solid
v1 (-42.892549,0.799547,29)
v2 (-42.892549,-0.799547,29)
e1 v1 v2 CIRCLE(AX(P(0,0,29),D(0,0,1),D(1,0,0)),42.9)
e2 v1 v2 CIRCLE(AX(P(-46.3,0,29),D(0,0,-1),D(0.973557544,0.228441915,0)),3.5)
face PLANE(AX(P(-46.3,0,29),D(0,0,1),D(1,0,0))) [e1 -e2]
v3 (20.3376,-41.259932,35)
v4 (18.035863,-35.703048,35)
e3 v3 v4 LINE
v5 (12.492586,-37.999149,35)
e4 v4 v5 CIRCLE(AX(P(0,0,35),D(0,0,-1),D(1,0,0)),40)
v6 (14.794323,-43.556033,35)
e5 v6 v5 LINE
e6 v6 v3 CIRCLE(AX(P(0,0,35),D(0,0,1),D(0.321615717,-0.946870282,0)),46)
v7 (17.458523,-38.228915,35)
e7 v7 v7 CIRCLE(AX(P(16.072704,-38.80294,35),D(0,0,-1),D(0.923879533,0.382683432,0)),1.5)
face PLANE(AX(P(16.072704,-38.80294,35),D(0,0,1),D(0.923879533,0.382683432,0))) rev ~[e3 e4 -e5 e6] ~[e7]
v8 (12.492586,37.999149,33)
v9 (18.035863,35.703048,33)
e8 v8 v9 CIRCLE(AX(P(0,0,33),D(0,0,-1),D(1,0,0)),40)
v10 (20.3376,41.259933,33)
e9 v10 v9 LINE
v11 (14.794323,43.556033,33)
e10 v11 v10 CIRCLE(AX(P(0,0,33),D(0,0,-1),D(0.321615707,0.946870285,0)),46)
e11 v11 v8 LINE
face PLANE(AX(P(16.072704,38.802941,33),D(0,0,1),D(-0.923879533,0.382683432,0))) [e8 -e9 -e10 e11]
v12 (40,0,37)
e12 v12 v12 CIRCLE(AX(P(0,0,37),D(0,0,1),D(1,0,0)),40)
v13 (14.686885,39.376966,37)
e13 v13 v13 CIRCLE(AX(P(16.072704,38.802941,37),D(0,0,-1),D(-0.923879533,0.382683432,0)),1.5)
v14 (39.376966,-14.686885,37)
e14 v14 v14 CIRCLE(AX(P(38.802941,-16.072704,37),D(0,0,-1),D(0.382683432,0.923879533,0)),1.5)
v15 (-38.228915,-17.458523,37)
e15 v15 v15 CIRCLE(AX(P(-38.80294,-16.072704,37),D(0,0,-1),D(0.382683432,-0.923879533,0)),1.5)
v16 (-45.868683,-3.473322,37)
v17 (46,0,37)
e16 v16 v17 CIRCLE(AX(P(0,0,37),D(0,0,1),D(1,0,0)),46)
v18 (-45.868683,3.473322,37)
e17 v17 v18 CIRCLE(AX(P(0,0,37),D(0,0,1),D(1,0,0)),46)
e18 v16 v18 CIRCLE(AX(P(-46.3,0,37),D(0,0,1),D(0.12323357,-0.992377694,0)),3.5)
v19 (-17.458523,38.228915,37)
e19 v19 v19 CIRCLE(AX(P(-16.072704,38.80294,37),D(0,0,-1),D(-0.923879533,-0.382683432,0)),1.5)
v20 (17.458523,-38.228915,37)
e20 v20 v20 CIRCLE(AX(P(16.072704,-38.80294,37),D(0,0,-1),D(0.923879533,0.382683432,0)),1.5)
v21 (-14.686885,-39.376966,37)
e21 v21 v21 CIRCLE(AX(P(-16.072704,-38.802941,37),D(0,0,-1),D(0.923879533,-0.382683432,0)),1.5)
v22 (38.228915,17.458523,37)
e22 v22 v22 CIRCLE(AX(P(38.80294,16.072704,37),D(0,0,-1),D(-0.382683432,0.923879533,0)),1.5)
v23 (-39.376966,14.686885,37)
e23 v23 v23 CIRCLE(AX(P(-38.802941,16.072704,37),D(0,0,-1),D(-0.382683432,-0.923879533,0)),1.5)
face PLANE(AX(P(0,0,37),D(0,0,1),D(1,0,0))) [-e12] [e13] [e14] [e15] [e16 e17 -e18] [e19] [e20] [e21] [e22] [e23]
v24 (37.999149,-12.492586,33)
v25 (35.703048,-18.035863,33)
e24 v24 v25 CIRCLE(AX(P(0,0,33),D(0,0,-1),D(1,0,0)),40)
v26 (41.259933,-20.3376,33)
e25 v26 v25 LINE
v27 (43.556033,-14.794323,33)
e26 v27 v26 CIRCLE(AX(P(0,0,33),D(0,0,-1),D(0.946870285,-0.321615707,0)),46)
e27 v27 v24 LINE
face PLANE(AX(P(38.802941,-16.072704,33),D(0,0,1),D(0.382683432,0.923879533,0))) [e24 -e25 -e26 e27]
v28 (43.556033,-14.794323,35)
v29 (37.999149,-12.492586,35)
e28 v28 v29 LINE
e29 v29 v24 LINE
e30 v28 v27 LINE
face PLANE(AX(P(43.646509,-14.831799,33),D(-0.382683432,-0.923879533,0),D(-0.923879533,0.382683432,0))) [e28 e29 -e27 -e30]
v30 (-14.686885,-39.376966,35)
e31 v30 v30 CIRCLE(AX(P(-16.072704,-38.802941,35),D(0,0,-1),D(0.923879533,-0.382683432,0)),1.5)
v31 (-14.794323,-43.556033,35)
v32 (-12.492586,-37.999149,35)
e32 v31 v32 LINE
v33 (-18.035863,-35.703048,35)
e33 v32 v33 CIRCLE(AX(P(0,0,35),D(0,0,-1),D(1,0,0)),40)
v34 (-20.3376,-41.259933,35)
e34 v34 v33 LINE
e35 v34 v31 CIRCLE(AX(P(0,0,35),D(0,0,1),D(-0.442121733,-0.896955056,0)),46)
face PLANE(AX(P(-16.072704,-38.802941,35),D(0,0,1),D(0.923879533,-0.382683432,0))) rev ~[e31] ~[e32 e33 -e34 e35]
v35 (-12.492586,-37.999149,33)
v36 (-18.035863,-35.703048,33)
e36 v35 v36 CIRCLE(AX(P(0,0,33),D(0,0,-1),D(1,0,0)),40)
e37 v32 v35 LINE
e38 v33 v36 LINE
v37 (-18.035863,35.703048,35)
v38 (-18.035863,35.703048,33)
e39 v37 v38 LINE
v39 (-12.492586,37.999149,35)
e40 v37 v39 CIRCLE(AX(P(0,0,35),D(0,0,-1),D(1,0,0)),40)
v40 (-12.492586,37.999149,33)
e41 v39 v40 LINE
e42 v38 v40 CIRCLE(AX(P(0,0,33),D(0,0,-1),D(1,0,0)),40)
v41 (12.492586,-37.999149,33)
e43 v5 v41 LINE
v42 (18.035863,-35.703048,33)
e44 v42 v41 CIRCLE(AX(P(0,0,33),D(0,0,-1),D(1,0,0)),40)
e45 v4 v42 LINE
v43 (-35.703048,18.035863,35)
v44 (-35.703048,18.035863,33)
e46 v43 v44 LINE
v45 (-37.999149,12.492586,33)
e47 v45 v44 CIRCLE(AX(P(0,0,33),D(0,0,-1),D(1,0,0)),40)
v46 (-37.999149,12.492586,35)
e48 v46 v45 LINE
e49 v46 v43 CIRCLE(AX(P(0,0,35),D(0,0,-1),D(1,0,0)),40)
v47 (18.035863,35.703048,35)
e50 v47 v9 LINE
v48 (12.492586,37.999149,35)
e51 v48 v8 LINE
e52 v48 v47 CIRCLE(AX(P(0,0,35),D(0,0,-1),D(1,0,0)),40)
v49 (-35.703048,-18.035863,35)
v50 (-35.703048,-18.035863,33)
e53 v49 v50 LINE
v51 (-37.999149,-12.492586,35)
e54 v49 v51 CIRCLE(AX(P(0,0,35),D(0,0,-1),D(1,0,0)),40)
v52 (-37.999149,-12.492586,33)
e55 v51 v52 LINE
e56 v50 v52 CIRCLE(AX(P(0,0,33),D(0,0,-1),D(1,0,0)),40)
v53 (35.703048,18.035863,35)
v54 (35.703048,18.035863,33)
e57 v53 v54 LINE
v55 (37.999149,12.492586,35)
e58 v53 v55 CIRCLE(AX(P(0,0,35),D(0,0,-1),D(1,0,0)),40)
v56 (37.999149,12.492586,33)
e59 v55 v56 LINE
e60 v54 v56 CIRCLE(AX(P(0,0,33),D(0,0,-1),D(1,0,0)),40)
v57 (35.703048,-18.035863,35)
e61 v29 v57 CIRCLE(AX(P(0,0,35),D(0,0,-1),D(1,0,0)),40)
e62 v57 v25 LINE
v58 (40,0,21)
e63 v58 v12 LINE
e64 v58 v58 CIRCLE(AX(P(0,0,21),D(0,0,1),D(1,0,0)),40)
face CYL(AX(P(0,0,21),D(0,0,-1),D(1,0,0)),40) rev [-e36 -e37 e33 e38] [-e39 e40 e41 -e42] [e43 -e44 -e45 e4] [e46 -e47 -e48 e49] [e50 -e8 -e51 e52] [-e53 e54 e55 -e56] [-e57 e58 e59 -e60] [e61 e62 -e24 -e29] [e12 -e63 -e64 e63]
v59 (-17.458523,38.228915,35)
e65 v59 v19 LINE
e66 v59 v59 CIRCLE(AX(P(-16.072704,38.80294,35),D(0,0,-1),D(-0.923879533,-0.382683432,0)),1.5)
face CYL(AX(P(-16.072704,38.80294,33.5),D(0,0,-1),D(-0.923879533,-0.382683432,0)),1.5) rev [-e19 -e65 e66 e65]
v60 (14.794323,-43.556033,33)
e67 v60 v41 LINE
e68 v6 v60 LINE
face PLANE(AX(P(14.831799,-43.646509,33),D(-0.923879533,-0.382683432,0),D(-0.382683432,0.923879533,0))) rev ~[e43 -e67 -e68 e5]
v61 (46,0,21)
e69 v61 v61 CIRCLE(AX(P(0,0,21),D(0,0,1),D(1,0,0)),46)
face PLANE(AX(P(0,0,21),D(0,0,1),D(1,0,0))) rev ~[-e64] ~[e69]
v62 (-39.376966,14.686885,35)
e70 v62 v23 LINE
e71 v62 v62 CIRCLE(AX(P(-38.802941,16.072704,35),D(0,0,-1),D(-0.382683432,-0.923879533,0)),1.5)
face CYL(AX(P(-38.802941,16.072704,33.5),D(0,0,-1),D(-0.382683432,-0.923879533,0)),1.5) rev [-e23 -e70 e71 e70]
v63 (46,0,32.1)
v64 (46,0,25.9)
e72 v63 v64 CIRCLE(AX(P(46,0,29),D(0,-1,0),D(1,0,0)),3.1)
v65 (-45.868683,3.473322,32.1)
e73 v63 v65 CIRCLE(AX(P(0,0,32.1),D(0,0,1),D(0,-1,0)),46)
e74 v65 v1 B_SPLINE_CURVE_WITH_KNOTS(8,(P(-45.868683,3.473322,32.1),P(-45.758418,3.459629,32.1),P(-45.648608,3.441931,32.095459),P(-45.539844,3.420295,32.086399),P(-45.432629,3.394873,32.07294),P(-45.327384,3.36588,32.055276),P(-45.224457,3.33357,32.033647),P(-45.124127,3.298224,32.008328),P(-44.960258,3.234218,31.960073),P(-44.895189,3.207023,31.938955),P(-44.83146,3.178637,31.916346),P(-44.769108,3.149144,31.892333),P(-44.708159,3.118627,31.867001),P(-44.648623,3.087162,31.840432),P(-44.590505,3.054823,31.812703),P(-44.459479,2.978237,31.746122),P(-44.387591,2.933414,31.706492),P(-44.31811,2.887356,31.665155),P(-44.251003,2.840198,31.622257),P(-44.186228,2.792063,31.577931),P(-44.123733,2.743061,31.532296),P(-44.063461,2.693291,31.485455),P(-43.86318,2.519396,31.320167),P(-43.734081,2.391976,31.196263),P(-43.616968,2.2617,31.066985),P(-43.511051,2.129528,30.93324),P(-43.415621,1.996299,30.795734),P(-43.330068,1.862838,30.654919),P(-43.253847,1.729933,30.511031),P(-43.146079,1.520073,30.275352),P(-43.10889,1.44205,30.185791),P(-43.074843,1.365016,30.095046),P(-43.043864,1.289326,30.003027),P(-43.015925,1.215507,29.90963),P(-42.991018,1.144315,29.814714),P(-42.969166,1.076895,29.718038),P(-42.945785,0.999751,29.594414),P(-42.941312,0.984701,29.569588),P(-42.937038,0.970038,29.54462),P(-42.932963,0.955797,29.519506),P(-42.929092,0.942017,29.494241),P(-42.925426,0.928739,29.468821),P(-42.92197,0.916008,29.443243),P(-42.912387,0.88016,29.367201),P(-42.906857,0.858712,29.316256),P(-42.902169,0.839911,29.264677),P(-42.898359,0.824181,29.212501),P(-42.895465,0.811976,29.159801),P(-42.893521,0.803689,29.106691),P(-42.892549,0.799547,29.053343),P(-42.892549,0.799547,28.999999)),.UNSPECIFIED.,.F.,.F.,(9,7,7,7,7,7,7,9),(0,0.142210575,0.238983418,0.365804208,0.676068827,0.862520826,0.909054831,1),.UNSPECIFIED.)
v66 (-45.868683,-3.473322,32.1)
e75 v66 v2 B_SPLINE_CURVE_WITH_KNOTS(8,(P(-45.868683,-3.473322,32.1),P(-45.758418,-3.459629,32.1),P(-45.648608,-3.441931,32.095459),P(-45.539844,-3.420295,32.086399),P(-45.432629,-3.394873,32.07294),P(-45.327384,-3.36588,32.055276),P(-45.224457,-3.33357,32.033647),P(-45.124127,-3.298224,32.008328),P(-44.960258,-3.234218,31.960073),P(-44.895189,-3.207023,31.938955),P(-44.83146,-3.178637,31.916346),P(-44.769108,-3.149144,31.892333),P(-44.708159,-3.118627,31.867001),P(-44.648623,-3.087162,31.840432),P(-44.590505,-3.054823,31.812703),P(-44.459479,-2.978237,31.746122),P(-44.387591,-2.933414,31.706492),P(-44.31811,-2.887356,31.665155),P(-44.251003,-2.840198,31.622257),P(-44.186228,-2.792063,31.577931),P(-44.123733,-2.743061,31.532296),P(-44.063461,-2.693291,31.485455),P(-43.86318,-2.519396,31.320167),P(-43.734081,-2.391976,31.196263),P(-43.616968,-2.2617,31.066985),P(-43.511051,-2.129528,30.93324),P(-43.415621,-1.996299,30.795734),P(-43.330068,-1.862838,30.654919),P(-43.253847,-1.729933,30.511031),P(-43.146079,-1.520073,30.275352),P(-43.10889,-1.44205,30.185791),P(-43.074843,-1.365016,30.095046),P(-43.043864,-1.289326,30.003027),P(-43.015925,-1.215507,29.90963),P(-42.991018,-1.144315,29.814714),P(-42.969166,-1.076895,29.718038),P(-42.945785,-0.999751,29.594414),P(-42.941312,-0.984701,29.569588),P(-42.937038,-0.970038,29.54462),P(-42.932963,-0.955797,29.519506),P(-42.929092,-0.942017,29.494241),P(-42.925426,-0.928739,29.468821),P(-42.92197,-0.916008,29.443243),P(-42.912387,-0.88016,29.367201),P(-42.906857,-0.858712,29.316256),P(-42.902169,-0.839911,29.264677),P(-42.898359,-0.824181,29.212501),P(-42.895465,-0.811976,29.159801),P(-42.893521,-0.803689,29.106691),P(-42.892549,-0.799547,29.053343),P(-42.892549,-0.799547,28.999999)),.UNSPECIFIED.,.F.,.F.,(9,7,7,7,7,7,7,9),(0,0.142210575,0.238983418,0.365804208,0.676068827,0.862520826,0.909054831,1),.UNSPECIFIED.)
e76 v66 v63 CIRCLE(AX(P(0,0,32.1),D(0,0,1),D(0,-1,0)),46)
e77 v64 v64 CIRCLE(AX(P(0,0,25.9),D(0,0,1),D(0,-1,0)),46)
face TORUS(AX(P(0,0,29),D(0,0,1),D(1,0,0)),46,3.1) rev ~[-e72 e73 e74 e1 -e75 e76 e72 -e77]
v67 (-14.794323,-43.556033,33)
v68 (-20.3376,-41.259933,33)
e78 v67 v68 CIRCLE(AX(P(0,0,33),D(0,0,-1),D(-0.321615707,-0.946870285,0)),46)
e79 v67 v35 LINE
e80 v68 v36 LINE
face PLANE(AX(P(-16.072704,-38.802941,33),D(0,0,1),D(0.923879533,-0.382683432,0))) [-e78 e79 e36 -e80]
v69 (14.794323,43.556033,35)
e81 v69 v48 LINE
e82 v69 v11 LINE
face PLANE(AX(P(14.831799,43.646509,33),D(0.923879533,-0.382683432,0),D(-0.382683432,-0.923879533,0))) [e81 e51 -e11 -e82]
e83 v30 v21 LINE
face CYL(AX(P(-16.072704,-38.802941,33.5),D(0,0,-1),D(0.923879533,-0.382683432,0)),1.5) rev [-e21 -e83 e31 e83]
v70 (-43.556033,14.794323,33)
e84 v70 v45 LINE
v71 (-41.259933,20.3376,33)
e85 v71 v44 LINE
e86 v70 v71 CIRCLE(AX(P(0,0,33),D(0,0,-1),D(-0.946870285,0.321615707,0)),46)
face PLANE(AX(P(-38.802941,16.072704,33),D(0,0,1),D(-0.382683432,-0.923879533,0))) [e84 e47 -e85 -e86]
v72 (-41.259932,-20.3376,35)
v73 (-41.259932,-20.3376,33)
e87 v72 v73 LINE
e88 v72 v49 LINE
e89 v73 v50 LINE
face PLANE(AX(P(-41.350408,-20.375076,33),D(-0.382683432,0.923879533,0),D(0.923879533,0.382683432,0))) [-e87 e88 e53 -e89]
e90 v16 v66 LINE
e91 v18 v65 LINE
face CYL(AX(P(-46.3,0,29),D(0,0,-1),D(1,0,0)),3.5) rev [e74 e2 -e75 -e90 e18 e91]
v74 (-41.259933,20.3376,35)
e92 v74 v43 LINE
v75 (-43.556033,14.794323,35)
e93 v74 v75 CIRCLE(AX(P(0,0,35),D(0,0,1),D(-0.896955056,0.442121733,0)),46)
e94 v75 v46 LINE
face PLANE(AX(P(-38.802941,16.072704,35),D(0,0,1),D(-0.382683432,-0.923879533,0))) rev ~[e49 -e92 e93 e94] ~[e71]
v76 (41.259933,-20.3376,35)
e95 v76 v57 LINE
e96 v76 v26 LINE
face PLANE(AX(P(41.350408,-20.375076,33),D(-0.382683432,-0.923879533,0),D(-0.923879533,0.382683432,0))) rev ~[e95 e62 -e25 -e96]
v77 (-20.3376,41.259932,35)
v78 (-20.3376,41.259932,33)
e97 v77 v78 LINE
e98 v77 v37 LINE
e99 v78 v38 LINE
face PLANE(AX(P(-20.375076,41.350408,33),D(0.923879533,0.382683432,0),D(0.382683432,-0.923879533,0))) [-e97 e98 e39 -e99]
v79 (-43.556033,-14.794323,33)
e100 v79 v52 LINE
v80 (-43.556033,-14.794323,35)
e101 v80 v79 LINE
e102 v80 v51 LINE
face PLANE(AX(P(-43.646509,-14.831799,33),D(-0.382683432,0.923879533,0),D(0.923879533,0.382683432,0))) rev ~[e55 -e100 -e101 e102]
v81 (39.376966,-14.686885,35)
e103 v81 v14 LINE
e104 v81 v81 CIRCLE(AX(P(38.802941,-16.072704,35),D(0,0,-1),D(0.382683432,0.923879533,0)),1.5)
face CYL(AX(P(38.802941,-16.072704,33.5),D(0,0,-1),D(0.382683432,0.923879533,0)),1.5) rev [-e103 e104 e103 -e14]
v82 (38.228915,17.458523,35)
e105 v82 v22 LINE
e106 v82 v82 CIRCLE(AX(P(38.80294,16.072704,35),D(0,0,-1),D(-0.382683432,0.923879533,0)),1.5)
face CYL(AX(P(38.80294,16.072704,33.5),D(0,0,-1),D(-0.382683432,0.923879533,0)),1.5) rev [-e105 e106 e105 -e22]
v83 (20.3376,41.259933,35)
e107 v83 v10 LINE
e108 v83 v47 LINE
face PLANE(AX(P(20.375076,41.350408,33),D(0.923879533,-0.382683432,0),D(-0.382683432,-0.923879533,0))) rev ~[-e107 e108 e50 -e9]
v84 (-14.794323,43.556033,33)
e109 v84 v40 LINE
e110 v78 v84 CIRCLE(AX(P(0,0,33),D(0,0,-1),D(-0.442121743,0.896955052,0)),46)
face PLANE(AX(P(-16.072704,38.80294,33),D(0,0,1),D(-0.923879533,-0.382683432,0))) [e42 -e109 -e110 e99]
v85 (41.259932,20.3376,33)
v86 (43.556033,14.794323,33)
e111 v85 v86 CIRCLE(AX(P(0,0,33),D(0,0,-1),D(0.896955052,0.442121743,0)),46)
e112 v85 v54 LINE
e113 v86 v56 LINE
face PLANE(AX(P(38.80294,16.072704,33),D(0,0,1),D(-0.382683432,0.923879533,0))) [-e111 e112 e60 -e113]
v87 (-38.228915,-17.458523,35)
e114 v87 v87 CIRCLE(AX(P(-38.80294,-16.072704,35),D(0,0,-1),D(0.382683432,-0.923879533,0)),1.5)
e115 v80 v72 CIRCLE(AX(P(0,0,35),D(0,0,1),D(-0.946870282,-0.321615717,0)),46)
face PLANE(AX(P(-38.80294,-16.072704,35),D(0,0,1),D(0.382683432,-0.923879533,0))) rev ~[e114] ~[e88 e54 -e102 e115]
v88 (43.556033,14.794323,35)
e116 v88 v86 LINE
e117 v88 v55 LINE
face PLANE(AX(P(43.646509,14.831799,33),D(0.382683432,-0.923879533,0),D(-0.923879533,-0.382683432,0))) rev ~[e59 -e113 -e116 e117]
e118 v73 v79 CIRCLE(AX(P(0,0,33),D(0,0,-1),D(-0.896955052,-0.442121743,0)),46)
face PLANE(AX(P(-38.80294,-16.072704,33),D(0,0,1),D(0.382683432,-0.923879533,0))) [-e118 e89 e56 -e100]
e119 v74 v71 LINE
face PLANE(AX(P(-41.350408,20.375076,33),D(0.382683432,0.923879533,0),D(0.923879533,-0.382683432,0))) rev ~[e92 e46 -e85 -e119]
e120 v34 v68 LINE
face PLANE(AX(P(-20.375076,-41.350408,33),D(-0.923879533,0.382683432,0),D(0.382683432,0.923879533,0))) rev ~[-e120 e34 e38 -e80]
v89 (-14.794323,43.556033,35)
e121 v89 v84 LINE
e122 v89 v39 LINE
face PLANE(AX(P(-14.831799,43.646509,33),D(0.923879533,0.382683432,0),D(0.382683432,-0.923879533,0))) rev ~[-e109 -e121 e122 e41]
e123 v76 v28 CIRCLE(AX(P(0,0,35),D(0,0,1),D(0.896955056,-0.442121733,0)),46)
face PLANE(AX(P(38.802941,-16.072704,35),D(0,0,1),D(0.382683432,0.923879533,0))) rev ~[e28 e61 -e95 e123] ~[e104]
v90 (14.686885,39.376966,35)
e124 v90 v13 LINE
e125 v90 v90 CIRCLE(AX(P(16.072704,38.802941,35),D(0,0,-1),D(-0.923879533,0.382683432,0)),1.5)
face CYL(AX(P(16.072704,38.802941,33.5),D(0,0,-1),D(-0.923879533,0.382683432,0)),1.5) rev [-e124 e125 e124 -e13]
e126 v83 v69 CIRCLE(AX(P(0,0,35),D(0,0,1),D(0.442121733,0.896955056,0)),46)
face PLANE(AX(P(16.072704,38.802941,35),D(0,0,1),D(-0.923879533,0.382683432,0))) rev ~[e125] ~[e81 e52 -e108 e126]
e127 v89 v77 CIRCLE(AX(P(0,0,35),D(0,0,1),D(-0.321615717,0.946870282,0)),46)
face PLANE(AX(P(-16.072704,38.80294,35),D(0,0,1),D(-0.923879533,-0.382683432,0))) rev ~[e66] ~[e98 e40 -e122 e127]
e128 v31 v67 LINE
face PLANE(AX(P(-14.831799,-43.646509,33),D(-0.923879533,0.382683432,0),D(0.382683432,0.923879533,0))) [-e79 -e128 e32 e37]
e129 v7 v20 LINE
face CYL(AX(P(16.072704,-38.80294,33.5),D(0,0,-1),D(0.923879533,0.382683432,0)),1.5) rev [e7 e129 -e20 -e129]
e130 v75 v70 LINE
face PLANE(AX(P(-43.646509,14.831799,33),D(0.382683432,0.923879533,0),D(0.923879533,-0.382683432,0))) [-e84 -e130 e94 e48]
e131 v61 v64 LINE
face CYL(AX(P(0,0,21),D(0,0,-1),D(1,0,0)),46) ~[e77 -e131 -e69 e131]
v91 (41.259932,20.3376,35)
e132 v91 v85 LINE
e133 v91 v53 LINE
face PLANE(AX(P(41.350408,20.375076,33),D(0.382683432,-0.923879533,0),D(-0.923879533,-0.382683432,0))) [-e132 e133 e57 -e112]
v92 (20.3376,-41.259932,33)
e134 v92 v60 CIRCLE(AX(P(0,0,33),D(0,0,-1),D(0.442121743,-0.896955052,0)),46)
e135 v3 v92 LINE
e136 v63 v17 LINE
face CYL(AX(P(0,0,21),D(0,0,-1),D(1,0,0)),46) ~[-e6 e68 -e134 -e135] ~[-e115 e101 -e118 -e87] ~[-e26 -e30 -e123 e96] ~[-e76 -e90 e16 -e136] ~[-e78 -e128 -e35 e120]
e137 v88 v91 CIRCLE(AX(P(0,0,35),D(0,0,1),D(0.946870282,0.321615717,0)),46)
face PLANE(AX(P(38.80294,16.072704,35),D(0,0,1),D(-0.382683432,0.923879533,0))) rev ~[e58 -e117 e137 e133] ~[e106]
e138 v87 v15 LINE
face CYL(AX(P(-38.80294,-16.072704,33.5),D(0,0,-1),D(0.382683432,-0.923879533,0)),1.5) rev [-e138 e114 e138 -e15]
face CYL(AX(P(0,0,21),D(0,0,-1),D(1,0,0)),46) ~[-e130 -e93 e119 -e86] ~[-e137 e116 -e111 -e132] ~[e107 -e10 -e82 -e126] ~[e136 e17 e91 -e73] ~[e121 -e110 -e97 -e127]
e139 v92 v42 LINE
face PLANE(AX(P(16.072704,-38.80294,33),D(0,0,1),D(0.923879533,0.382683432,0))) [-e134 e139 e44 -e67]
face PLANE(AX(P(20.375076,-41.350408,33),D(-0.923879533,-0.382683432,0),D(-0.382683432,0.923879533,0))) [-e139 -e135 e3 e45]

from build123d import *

# Parameters (mm, degrees)
BOX331_W                    = 6
BOX331_H                    = 8
BOX331_DEPTH                = 2
BOX331_PLACEMENT_ANGLE      = 45
BOX329_W                    = 6
BOX329_H                    = 8
BOX329_DEPTH                = 2
BOX328_W                    = 6
BOX328_H                    = 8
BOX328_DEPTH                = 2
BOX333_W                    = 6
BOX333_H                    = 8
BOX333_DEPTH                = 2
BOX333_PLACEMENT_ANGLE      = 135
BOX332_W                    = 6
BOX332_H                    = 8
BOX332_DEPTH                = 2
BOX327_W                    = 6
BOX327_H                    = 8
BOX327_DEPTH                = 2
BOX327_PLACEMENT_ANGLE      = 225
BOX330_W                    = 6
BOX330_H                    = 8
BOX330_DEPTH                = 2
BOX323_W                    = 6
BOX323_H                    = 8
BOX323_DEPTH                = 2
BOX323_PLACEMENT_ANGLE      = 45
COMPOUND696_PLACEMENT_ANGLE = 22.5
CYLINDER713_R               = 1.5
CYLINDER713_DEPTH           = 12
CYLINDER713_PLACEMENT_ANGLE = 45
CYLINDER712_R               = 1.5
CYLINDER712_DEPTH           = 12
CYLINDER711_R               = 1.5
CYLINDER711_DEPTH           = 12
CYLINDER711_PLACEMENT_ANGLE = 135
CYLINDER703_R               = 1.5
CYLINDER703_DEPTH           = 12
CYLINDER709_R               = 1.5
CYLINDER709_DEPTH           = 12
CYLINDER709_PLACEMENT_ANGLE = 225
CYLINDER710_R               = 1.5
CYLINDER710_DEPTH           = 12
CYLINDER698_R               = 1.5
CYLINDER698_DEPTH           = 12
CYLINDER698_PLACEMENT_ANGLE = 45
CYLINDER701_R               = 1.5
CYLINDER701_DEPTH           = 12
COMPOUND698_PLACEMENT_ANGLE = 22.5
CYLINDER694_R               = 3.5
CYLINDER694_DEPTH           = 20
TORUS006_R                  = 3.1
TUBE075_R                   = 46
TUBE075_R_2                 = 40
TUBE075_DEPTH               = 16


with BuildPart() as krychle331:
    # Box331 → Box331 (new body)
    with BuildSketch(Plane.XY):
        with Locations((3, 4)):
            Rectangle(BOX331_W, BOX331_H)
    extrude(amount=BOX331_DEPTH)


with BuildPart() as krychle331_1:
    # Box331 placement: moved
    add(krychle331.part.moved(Location((30.405592, -34.648232, 33))).rotate(Axis((30.405592, -34.648232, 33), (0, 0, 1)), BOX331_PLACEMENT_ANGLE))


with BuildPart() as krychle329:
    # Box329 → Box329 (new body)
    with BuildSketch(Plane(origin=(46, -3, 33), x_dir=(0, 1, 0), z_dir=(0, 0, 1))):
        with Locations((3, 4)):
            Rectangle(BOX329_W, BOX329_H)
    extrude(amount=BOX329_DEPTH)


with BuildPart() as krychle328:
    # Box328 → Box328 (new body)
    with BuildSketch(Plane(origin=(-3, -46, 33), x_dir=(1, 0, 0), z_dir=(0, 0, 1))):
        with Locations((3, 4)):
            Rectangle(BOX328_W, BOX328_H)
    extrude(amount=BOX328_DEPTH)


with BuildPart() as krychle333:
    # Box333 → Box333 (new body)
    with BuildSketch(Plane.XY):
        with Locations((3, 4)):
            Rectangle(BOX333_W, BOX333_H)
    extrude(amount=BOX333_DEPTH)


with BuildPart() as krychle333_1:
    # Box333 placement: moved
    add(krychle333.part.moved(Location((34.648232, 30.405592, 33))).rotate(Axis((34.648232, 30.405592, 33), (0, 0, 1)), BOX333_PLACEMENT_ANGLE))


with BuildPart() as krychle332:
    # Box332 → Box332 (new body)
    with BuildSketch(Plane(origin=(3, 46, 33), x_dir=(-1, 0, 0), z_dir=(0, 0, 1))):
        with Locations((3, 4)):
            Rectangle(BOX332_W, BOX332_H)
    extrude(amount=BOX332_DEPTH)


with BuildPart() as krychle327:
    # Box327 → Box327 (new body)
    with BuildSketch(Plane.XY):
        with Locations((3, 4)):
            Rectangle(BOX327_W, BOX327_H)
    extrude(amount=BOX327_DEPTH)


with BuildPart() as krychle327_1:
    # Box327 placement: moved
    add(krychle327.part.moved(Location((-30.405592, 34.648232, 33))).rotate(Axis((-30.405592, 34.648232, 33), (0, 0, 1)), BOX327_PLACEMENT_ANGLE))


with BuildPart() as krychle330:
    # Box330 → Box330 (new body)
    with BuildSketch(Plane(origin=(-46, 3, 33), x_dir=(0, -1, 0), z_dir=(0, 0, 1))):
        with Locations((3, 4)):
            Rectangle(BOX330_W, BOX330_H)
    extrude(amount=BOX330_DEPTH)


with BuildPart() as compound696:
    # Box323 → Box323 (new body)
    with BuildSketch(Plane.XY):
        with Locations((3, 4)):
            Rectangle(BOX323_W, BOX323_H)
    extrude(amount=BOX323_DEPTH)


with BuildPart() as compound696_1:
    # Box323 placement: moved
    add(compound696.part.moved(Location((-34.648232, -30.405592, 33))).rotate(Axis((-34.648232, -30.405592, 33), (0, 0, -1)), BOX323_PLACEMENT_ANGLE))

    # Compound696: union Krychle331, Krychle329, Krychle328, Krychle333, Krychle332, Krychle327, Krychle330
    add(krychle331_1.part)
    add(krychle329.part)
    add(krychle328.part)
    add(krychle333_1.part)
    add(krychle332.part)
    add(krychle327_1.part)
    add(krychle330.part)


with BuildPart() as compound696_2:
    # Compound696 placement: moved
    add(compound696_1.part.rotate(Axis((0, 0, 0), (0, 0, 1)), COMPOUND696_PLACEMENT_ANGLE))


with BuildPart() as v_lec713:
    # Cylinder713 → Cylinder713 (new body)
    with BuildSketch(Plane.XY):
        Circle(CYLINDER713_R)
    extrude(amount=CYLINDER713_DEPTH)


with BuildPart() as v_lec713_1:
    # Cylinder713 placement: moved
    add(v_lec713.part.moved(Location((29.698485, -29.698485, 33.5))).rotate(Axis((29.698485, -29.698485, 33.5), (0, 0, 1)), CYLINDER713_PLACEMENT_ANGLE))


with BuildPart() as v_lec712:
    # Cylinder712 → Cylinder712 (new body)
    with BuildSketch(Plane(origin=(42, 0, 33.5), x_dir=(0, 1, 0), z_dir=(0, 0, 1))):
        Circle(CYLINDER712_R)
    extrude(amount=CYLINDER712_DEPTH)


with BuildPart() as v_lec711:
    # Cylinder711 → Cylinder711 (new body)
    with BuildSketch(Plane.XY):
        Circle(CYLINDER711_R)
    extrude(amount=CYLINDER711_DEPTH)


with BuildPart() as v_lec711_1:
    # Cylinder711 placement: moved
    add(v_lec711.part.moved(Location((29.698485, 29.698485, 33.5))).rotate(Axis((29.698485, 29.698485, 33.5), (0, 0, 1)), CYLINDER711_PLACEMENT_ANGLE))


with BuildPart() as v_lec703:
    # Cylinder703 → Cylinder703 (new body)
    with BuildSketch(Plane(origin=(0, 42, 33.5), x_dir=(-1, 0, 0), z_dir=(0, 0, 1))):
        Circle(CYLINDER703_R)
    extrude(amount=CYLINDER703_DEPTH)


with BuildPart() as v_lec709:
    # Cylinder709 → Cylinder709 (new body)
    with BuildSketch(Plane.XY):
        Circle(CYLINDER709_R)
    extrude(amount=CYLINDER709_DEPTH)


with BuildPart() as v_lec709_1:
    # Cylinder709 placement: moved
    add(v_lec709.part.moved(Location((-29.698485, 29.698485, 33.5))).rotate(Axis((-29.698485, 29.698485, 33.5), (0, 0, 1)), CYLINDER709_PLACEMENT_ANGLE))


with BuildPart() as v_lec710:
    # Cylinder710 → Cylinder710 (new body)
    with BuildSketch(Plane(origin=(-42, 0, 33.5), x_dir=(0, -1, 0), z_dir=(0, 0, 1))):
        Circle(CYLINDER710_R)
    extrude(amount=CYLINDER710_DEPTH)


with BuildPart() as v_lec698:
    # Cylinder698 → Cylinder698 (new body)
    with BuildSketch(Plane.XY):
        Circle(CYLINDER698_R)
    extrude(amount=CYLINDER698_DEPTH)


with BuildPart() as v_lec698_1:
    # Cylinder698 placement: moved
    add(v_lec698.part.moved(Location((-29.698485, -29.698485, 33.5))).rotate(Axis((-29.698485, -29.698485, 33.5), (0, 0, -1)), CYLINDER698_PLACEMENT_ANGLE))


with BuildPart() as compound698:
    # Cylinder701 → Cylinder701 (new body)
    with BuildSketch(Plane(origin=(0, -42, 33.5), x_dir=(1, 0, 0), z_dir=(0, 0, 1))):
        Circle(CYLINDER701_R)
    extrude(amount=CYLINDER701_DEPTH)

    # Compound698: union Válec713, Válec712, Válec711, Válec703, Válec709, Válec710, Válec698
    add(v_lec713_1.part)
    add(v_lec712.part)
    add(v_lec711_1.part)
    add(v_lec703.part)
    add(v_lec709_1.part)
    add(v_lec710.part)
    add(v_lec698_1.part)


with BuildPart() as compound698_1:
    # Compound698 placement: moved
    add(compound698.part.rotate(Axis((0, 0, 0), (0, 0, 1)), COMPOUND698_PLACEMENT_ANGLE))


with BuildPart() as v_lec694:
    # Cylinder694 → Cylinder694 (new body)
    with BuildSketch(Plane(origin=(-46.3, 0, 29), x_dir=(1, 0, 0), z_dir=(0, 0, 1))):
        Circle(CYLINDER694_R)
    extrude(amount=CYLINDER694_DEPTH)


with BuildPart() as anuloid006:
    # Torus006 → Torus006 (revolve)
    with BuildSketch(Plane(origin=(0, 0, 29), x_dir=(1, 0, 0), z_dir=(0, -1, 0))):
        with Locations((46, 0)):
            Circle(TORUS006_R)
    revolve(axis=Axis((0, 0, 29), (0, 0, 1)))


with BuildPart() as cut329:
    # Tube075 → Tube075 (new body)
    with BuildSketch(Plane.XY.offset(21)):
        Circle(TUBE075_R)
        Circle(TUBE075_R_2, mode=Mode.SUBTRACT)
    extrude(amount=TUBE075_DEPTH)

    # Cut325: cut Anuloid006
    add(anuloid006.part, mode=Mode.SUBTRACT)

    # Cut326: cut Válec694
    add(v_lec694.part, mode=Mode.SUBTRACT)

    # Cut328: cut Compound698
    add(compound698_1.part, mode=Mode.SUBTRACT)

    # Cut329: cut Compound696
    add(compound696_2.part, mode=Mode.SUBTRACT)


solid = cut329.part
